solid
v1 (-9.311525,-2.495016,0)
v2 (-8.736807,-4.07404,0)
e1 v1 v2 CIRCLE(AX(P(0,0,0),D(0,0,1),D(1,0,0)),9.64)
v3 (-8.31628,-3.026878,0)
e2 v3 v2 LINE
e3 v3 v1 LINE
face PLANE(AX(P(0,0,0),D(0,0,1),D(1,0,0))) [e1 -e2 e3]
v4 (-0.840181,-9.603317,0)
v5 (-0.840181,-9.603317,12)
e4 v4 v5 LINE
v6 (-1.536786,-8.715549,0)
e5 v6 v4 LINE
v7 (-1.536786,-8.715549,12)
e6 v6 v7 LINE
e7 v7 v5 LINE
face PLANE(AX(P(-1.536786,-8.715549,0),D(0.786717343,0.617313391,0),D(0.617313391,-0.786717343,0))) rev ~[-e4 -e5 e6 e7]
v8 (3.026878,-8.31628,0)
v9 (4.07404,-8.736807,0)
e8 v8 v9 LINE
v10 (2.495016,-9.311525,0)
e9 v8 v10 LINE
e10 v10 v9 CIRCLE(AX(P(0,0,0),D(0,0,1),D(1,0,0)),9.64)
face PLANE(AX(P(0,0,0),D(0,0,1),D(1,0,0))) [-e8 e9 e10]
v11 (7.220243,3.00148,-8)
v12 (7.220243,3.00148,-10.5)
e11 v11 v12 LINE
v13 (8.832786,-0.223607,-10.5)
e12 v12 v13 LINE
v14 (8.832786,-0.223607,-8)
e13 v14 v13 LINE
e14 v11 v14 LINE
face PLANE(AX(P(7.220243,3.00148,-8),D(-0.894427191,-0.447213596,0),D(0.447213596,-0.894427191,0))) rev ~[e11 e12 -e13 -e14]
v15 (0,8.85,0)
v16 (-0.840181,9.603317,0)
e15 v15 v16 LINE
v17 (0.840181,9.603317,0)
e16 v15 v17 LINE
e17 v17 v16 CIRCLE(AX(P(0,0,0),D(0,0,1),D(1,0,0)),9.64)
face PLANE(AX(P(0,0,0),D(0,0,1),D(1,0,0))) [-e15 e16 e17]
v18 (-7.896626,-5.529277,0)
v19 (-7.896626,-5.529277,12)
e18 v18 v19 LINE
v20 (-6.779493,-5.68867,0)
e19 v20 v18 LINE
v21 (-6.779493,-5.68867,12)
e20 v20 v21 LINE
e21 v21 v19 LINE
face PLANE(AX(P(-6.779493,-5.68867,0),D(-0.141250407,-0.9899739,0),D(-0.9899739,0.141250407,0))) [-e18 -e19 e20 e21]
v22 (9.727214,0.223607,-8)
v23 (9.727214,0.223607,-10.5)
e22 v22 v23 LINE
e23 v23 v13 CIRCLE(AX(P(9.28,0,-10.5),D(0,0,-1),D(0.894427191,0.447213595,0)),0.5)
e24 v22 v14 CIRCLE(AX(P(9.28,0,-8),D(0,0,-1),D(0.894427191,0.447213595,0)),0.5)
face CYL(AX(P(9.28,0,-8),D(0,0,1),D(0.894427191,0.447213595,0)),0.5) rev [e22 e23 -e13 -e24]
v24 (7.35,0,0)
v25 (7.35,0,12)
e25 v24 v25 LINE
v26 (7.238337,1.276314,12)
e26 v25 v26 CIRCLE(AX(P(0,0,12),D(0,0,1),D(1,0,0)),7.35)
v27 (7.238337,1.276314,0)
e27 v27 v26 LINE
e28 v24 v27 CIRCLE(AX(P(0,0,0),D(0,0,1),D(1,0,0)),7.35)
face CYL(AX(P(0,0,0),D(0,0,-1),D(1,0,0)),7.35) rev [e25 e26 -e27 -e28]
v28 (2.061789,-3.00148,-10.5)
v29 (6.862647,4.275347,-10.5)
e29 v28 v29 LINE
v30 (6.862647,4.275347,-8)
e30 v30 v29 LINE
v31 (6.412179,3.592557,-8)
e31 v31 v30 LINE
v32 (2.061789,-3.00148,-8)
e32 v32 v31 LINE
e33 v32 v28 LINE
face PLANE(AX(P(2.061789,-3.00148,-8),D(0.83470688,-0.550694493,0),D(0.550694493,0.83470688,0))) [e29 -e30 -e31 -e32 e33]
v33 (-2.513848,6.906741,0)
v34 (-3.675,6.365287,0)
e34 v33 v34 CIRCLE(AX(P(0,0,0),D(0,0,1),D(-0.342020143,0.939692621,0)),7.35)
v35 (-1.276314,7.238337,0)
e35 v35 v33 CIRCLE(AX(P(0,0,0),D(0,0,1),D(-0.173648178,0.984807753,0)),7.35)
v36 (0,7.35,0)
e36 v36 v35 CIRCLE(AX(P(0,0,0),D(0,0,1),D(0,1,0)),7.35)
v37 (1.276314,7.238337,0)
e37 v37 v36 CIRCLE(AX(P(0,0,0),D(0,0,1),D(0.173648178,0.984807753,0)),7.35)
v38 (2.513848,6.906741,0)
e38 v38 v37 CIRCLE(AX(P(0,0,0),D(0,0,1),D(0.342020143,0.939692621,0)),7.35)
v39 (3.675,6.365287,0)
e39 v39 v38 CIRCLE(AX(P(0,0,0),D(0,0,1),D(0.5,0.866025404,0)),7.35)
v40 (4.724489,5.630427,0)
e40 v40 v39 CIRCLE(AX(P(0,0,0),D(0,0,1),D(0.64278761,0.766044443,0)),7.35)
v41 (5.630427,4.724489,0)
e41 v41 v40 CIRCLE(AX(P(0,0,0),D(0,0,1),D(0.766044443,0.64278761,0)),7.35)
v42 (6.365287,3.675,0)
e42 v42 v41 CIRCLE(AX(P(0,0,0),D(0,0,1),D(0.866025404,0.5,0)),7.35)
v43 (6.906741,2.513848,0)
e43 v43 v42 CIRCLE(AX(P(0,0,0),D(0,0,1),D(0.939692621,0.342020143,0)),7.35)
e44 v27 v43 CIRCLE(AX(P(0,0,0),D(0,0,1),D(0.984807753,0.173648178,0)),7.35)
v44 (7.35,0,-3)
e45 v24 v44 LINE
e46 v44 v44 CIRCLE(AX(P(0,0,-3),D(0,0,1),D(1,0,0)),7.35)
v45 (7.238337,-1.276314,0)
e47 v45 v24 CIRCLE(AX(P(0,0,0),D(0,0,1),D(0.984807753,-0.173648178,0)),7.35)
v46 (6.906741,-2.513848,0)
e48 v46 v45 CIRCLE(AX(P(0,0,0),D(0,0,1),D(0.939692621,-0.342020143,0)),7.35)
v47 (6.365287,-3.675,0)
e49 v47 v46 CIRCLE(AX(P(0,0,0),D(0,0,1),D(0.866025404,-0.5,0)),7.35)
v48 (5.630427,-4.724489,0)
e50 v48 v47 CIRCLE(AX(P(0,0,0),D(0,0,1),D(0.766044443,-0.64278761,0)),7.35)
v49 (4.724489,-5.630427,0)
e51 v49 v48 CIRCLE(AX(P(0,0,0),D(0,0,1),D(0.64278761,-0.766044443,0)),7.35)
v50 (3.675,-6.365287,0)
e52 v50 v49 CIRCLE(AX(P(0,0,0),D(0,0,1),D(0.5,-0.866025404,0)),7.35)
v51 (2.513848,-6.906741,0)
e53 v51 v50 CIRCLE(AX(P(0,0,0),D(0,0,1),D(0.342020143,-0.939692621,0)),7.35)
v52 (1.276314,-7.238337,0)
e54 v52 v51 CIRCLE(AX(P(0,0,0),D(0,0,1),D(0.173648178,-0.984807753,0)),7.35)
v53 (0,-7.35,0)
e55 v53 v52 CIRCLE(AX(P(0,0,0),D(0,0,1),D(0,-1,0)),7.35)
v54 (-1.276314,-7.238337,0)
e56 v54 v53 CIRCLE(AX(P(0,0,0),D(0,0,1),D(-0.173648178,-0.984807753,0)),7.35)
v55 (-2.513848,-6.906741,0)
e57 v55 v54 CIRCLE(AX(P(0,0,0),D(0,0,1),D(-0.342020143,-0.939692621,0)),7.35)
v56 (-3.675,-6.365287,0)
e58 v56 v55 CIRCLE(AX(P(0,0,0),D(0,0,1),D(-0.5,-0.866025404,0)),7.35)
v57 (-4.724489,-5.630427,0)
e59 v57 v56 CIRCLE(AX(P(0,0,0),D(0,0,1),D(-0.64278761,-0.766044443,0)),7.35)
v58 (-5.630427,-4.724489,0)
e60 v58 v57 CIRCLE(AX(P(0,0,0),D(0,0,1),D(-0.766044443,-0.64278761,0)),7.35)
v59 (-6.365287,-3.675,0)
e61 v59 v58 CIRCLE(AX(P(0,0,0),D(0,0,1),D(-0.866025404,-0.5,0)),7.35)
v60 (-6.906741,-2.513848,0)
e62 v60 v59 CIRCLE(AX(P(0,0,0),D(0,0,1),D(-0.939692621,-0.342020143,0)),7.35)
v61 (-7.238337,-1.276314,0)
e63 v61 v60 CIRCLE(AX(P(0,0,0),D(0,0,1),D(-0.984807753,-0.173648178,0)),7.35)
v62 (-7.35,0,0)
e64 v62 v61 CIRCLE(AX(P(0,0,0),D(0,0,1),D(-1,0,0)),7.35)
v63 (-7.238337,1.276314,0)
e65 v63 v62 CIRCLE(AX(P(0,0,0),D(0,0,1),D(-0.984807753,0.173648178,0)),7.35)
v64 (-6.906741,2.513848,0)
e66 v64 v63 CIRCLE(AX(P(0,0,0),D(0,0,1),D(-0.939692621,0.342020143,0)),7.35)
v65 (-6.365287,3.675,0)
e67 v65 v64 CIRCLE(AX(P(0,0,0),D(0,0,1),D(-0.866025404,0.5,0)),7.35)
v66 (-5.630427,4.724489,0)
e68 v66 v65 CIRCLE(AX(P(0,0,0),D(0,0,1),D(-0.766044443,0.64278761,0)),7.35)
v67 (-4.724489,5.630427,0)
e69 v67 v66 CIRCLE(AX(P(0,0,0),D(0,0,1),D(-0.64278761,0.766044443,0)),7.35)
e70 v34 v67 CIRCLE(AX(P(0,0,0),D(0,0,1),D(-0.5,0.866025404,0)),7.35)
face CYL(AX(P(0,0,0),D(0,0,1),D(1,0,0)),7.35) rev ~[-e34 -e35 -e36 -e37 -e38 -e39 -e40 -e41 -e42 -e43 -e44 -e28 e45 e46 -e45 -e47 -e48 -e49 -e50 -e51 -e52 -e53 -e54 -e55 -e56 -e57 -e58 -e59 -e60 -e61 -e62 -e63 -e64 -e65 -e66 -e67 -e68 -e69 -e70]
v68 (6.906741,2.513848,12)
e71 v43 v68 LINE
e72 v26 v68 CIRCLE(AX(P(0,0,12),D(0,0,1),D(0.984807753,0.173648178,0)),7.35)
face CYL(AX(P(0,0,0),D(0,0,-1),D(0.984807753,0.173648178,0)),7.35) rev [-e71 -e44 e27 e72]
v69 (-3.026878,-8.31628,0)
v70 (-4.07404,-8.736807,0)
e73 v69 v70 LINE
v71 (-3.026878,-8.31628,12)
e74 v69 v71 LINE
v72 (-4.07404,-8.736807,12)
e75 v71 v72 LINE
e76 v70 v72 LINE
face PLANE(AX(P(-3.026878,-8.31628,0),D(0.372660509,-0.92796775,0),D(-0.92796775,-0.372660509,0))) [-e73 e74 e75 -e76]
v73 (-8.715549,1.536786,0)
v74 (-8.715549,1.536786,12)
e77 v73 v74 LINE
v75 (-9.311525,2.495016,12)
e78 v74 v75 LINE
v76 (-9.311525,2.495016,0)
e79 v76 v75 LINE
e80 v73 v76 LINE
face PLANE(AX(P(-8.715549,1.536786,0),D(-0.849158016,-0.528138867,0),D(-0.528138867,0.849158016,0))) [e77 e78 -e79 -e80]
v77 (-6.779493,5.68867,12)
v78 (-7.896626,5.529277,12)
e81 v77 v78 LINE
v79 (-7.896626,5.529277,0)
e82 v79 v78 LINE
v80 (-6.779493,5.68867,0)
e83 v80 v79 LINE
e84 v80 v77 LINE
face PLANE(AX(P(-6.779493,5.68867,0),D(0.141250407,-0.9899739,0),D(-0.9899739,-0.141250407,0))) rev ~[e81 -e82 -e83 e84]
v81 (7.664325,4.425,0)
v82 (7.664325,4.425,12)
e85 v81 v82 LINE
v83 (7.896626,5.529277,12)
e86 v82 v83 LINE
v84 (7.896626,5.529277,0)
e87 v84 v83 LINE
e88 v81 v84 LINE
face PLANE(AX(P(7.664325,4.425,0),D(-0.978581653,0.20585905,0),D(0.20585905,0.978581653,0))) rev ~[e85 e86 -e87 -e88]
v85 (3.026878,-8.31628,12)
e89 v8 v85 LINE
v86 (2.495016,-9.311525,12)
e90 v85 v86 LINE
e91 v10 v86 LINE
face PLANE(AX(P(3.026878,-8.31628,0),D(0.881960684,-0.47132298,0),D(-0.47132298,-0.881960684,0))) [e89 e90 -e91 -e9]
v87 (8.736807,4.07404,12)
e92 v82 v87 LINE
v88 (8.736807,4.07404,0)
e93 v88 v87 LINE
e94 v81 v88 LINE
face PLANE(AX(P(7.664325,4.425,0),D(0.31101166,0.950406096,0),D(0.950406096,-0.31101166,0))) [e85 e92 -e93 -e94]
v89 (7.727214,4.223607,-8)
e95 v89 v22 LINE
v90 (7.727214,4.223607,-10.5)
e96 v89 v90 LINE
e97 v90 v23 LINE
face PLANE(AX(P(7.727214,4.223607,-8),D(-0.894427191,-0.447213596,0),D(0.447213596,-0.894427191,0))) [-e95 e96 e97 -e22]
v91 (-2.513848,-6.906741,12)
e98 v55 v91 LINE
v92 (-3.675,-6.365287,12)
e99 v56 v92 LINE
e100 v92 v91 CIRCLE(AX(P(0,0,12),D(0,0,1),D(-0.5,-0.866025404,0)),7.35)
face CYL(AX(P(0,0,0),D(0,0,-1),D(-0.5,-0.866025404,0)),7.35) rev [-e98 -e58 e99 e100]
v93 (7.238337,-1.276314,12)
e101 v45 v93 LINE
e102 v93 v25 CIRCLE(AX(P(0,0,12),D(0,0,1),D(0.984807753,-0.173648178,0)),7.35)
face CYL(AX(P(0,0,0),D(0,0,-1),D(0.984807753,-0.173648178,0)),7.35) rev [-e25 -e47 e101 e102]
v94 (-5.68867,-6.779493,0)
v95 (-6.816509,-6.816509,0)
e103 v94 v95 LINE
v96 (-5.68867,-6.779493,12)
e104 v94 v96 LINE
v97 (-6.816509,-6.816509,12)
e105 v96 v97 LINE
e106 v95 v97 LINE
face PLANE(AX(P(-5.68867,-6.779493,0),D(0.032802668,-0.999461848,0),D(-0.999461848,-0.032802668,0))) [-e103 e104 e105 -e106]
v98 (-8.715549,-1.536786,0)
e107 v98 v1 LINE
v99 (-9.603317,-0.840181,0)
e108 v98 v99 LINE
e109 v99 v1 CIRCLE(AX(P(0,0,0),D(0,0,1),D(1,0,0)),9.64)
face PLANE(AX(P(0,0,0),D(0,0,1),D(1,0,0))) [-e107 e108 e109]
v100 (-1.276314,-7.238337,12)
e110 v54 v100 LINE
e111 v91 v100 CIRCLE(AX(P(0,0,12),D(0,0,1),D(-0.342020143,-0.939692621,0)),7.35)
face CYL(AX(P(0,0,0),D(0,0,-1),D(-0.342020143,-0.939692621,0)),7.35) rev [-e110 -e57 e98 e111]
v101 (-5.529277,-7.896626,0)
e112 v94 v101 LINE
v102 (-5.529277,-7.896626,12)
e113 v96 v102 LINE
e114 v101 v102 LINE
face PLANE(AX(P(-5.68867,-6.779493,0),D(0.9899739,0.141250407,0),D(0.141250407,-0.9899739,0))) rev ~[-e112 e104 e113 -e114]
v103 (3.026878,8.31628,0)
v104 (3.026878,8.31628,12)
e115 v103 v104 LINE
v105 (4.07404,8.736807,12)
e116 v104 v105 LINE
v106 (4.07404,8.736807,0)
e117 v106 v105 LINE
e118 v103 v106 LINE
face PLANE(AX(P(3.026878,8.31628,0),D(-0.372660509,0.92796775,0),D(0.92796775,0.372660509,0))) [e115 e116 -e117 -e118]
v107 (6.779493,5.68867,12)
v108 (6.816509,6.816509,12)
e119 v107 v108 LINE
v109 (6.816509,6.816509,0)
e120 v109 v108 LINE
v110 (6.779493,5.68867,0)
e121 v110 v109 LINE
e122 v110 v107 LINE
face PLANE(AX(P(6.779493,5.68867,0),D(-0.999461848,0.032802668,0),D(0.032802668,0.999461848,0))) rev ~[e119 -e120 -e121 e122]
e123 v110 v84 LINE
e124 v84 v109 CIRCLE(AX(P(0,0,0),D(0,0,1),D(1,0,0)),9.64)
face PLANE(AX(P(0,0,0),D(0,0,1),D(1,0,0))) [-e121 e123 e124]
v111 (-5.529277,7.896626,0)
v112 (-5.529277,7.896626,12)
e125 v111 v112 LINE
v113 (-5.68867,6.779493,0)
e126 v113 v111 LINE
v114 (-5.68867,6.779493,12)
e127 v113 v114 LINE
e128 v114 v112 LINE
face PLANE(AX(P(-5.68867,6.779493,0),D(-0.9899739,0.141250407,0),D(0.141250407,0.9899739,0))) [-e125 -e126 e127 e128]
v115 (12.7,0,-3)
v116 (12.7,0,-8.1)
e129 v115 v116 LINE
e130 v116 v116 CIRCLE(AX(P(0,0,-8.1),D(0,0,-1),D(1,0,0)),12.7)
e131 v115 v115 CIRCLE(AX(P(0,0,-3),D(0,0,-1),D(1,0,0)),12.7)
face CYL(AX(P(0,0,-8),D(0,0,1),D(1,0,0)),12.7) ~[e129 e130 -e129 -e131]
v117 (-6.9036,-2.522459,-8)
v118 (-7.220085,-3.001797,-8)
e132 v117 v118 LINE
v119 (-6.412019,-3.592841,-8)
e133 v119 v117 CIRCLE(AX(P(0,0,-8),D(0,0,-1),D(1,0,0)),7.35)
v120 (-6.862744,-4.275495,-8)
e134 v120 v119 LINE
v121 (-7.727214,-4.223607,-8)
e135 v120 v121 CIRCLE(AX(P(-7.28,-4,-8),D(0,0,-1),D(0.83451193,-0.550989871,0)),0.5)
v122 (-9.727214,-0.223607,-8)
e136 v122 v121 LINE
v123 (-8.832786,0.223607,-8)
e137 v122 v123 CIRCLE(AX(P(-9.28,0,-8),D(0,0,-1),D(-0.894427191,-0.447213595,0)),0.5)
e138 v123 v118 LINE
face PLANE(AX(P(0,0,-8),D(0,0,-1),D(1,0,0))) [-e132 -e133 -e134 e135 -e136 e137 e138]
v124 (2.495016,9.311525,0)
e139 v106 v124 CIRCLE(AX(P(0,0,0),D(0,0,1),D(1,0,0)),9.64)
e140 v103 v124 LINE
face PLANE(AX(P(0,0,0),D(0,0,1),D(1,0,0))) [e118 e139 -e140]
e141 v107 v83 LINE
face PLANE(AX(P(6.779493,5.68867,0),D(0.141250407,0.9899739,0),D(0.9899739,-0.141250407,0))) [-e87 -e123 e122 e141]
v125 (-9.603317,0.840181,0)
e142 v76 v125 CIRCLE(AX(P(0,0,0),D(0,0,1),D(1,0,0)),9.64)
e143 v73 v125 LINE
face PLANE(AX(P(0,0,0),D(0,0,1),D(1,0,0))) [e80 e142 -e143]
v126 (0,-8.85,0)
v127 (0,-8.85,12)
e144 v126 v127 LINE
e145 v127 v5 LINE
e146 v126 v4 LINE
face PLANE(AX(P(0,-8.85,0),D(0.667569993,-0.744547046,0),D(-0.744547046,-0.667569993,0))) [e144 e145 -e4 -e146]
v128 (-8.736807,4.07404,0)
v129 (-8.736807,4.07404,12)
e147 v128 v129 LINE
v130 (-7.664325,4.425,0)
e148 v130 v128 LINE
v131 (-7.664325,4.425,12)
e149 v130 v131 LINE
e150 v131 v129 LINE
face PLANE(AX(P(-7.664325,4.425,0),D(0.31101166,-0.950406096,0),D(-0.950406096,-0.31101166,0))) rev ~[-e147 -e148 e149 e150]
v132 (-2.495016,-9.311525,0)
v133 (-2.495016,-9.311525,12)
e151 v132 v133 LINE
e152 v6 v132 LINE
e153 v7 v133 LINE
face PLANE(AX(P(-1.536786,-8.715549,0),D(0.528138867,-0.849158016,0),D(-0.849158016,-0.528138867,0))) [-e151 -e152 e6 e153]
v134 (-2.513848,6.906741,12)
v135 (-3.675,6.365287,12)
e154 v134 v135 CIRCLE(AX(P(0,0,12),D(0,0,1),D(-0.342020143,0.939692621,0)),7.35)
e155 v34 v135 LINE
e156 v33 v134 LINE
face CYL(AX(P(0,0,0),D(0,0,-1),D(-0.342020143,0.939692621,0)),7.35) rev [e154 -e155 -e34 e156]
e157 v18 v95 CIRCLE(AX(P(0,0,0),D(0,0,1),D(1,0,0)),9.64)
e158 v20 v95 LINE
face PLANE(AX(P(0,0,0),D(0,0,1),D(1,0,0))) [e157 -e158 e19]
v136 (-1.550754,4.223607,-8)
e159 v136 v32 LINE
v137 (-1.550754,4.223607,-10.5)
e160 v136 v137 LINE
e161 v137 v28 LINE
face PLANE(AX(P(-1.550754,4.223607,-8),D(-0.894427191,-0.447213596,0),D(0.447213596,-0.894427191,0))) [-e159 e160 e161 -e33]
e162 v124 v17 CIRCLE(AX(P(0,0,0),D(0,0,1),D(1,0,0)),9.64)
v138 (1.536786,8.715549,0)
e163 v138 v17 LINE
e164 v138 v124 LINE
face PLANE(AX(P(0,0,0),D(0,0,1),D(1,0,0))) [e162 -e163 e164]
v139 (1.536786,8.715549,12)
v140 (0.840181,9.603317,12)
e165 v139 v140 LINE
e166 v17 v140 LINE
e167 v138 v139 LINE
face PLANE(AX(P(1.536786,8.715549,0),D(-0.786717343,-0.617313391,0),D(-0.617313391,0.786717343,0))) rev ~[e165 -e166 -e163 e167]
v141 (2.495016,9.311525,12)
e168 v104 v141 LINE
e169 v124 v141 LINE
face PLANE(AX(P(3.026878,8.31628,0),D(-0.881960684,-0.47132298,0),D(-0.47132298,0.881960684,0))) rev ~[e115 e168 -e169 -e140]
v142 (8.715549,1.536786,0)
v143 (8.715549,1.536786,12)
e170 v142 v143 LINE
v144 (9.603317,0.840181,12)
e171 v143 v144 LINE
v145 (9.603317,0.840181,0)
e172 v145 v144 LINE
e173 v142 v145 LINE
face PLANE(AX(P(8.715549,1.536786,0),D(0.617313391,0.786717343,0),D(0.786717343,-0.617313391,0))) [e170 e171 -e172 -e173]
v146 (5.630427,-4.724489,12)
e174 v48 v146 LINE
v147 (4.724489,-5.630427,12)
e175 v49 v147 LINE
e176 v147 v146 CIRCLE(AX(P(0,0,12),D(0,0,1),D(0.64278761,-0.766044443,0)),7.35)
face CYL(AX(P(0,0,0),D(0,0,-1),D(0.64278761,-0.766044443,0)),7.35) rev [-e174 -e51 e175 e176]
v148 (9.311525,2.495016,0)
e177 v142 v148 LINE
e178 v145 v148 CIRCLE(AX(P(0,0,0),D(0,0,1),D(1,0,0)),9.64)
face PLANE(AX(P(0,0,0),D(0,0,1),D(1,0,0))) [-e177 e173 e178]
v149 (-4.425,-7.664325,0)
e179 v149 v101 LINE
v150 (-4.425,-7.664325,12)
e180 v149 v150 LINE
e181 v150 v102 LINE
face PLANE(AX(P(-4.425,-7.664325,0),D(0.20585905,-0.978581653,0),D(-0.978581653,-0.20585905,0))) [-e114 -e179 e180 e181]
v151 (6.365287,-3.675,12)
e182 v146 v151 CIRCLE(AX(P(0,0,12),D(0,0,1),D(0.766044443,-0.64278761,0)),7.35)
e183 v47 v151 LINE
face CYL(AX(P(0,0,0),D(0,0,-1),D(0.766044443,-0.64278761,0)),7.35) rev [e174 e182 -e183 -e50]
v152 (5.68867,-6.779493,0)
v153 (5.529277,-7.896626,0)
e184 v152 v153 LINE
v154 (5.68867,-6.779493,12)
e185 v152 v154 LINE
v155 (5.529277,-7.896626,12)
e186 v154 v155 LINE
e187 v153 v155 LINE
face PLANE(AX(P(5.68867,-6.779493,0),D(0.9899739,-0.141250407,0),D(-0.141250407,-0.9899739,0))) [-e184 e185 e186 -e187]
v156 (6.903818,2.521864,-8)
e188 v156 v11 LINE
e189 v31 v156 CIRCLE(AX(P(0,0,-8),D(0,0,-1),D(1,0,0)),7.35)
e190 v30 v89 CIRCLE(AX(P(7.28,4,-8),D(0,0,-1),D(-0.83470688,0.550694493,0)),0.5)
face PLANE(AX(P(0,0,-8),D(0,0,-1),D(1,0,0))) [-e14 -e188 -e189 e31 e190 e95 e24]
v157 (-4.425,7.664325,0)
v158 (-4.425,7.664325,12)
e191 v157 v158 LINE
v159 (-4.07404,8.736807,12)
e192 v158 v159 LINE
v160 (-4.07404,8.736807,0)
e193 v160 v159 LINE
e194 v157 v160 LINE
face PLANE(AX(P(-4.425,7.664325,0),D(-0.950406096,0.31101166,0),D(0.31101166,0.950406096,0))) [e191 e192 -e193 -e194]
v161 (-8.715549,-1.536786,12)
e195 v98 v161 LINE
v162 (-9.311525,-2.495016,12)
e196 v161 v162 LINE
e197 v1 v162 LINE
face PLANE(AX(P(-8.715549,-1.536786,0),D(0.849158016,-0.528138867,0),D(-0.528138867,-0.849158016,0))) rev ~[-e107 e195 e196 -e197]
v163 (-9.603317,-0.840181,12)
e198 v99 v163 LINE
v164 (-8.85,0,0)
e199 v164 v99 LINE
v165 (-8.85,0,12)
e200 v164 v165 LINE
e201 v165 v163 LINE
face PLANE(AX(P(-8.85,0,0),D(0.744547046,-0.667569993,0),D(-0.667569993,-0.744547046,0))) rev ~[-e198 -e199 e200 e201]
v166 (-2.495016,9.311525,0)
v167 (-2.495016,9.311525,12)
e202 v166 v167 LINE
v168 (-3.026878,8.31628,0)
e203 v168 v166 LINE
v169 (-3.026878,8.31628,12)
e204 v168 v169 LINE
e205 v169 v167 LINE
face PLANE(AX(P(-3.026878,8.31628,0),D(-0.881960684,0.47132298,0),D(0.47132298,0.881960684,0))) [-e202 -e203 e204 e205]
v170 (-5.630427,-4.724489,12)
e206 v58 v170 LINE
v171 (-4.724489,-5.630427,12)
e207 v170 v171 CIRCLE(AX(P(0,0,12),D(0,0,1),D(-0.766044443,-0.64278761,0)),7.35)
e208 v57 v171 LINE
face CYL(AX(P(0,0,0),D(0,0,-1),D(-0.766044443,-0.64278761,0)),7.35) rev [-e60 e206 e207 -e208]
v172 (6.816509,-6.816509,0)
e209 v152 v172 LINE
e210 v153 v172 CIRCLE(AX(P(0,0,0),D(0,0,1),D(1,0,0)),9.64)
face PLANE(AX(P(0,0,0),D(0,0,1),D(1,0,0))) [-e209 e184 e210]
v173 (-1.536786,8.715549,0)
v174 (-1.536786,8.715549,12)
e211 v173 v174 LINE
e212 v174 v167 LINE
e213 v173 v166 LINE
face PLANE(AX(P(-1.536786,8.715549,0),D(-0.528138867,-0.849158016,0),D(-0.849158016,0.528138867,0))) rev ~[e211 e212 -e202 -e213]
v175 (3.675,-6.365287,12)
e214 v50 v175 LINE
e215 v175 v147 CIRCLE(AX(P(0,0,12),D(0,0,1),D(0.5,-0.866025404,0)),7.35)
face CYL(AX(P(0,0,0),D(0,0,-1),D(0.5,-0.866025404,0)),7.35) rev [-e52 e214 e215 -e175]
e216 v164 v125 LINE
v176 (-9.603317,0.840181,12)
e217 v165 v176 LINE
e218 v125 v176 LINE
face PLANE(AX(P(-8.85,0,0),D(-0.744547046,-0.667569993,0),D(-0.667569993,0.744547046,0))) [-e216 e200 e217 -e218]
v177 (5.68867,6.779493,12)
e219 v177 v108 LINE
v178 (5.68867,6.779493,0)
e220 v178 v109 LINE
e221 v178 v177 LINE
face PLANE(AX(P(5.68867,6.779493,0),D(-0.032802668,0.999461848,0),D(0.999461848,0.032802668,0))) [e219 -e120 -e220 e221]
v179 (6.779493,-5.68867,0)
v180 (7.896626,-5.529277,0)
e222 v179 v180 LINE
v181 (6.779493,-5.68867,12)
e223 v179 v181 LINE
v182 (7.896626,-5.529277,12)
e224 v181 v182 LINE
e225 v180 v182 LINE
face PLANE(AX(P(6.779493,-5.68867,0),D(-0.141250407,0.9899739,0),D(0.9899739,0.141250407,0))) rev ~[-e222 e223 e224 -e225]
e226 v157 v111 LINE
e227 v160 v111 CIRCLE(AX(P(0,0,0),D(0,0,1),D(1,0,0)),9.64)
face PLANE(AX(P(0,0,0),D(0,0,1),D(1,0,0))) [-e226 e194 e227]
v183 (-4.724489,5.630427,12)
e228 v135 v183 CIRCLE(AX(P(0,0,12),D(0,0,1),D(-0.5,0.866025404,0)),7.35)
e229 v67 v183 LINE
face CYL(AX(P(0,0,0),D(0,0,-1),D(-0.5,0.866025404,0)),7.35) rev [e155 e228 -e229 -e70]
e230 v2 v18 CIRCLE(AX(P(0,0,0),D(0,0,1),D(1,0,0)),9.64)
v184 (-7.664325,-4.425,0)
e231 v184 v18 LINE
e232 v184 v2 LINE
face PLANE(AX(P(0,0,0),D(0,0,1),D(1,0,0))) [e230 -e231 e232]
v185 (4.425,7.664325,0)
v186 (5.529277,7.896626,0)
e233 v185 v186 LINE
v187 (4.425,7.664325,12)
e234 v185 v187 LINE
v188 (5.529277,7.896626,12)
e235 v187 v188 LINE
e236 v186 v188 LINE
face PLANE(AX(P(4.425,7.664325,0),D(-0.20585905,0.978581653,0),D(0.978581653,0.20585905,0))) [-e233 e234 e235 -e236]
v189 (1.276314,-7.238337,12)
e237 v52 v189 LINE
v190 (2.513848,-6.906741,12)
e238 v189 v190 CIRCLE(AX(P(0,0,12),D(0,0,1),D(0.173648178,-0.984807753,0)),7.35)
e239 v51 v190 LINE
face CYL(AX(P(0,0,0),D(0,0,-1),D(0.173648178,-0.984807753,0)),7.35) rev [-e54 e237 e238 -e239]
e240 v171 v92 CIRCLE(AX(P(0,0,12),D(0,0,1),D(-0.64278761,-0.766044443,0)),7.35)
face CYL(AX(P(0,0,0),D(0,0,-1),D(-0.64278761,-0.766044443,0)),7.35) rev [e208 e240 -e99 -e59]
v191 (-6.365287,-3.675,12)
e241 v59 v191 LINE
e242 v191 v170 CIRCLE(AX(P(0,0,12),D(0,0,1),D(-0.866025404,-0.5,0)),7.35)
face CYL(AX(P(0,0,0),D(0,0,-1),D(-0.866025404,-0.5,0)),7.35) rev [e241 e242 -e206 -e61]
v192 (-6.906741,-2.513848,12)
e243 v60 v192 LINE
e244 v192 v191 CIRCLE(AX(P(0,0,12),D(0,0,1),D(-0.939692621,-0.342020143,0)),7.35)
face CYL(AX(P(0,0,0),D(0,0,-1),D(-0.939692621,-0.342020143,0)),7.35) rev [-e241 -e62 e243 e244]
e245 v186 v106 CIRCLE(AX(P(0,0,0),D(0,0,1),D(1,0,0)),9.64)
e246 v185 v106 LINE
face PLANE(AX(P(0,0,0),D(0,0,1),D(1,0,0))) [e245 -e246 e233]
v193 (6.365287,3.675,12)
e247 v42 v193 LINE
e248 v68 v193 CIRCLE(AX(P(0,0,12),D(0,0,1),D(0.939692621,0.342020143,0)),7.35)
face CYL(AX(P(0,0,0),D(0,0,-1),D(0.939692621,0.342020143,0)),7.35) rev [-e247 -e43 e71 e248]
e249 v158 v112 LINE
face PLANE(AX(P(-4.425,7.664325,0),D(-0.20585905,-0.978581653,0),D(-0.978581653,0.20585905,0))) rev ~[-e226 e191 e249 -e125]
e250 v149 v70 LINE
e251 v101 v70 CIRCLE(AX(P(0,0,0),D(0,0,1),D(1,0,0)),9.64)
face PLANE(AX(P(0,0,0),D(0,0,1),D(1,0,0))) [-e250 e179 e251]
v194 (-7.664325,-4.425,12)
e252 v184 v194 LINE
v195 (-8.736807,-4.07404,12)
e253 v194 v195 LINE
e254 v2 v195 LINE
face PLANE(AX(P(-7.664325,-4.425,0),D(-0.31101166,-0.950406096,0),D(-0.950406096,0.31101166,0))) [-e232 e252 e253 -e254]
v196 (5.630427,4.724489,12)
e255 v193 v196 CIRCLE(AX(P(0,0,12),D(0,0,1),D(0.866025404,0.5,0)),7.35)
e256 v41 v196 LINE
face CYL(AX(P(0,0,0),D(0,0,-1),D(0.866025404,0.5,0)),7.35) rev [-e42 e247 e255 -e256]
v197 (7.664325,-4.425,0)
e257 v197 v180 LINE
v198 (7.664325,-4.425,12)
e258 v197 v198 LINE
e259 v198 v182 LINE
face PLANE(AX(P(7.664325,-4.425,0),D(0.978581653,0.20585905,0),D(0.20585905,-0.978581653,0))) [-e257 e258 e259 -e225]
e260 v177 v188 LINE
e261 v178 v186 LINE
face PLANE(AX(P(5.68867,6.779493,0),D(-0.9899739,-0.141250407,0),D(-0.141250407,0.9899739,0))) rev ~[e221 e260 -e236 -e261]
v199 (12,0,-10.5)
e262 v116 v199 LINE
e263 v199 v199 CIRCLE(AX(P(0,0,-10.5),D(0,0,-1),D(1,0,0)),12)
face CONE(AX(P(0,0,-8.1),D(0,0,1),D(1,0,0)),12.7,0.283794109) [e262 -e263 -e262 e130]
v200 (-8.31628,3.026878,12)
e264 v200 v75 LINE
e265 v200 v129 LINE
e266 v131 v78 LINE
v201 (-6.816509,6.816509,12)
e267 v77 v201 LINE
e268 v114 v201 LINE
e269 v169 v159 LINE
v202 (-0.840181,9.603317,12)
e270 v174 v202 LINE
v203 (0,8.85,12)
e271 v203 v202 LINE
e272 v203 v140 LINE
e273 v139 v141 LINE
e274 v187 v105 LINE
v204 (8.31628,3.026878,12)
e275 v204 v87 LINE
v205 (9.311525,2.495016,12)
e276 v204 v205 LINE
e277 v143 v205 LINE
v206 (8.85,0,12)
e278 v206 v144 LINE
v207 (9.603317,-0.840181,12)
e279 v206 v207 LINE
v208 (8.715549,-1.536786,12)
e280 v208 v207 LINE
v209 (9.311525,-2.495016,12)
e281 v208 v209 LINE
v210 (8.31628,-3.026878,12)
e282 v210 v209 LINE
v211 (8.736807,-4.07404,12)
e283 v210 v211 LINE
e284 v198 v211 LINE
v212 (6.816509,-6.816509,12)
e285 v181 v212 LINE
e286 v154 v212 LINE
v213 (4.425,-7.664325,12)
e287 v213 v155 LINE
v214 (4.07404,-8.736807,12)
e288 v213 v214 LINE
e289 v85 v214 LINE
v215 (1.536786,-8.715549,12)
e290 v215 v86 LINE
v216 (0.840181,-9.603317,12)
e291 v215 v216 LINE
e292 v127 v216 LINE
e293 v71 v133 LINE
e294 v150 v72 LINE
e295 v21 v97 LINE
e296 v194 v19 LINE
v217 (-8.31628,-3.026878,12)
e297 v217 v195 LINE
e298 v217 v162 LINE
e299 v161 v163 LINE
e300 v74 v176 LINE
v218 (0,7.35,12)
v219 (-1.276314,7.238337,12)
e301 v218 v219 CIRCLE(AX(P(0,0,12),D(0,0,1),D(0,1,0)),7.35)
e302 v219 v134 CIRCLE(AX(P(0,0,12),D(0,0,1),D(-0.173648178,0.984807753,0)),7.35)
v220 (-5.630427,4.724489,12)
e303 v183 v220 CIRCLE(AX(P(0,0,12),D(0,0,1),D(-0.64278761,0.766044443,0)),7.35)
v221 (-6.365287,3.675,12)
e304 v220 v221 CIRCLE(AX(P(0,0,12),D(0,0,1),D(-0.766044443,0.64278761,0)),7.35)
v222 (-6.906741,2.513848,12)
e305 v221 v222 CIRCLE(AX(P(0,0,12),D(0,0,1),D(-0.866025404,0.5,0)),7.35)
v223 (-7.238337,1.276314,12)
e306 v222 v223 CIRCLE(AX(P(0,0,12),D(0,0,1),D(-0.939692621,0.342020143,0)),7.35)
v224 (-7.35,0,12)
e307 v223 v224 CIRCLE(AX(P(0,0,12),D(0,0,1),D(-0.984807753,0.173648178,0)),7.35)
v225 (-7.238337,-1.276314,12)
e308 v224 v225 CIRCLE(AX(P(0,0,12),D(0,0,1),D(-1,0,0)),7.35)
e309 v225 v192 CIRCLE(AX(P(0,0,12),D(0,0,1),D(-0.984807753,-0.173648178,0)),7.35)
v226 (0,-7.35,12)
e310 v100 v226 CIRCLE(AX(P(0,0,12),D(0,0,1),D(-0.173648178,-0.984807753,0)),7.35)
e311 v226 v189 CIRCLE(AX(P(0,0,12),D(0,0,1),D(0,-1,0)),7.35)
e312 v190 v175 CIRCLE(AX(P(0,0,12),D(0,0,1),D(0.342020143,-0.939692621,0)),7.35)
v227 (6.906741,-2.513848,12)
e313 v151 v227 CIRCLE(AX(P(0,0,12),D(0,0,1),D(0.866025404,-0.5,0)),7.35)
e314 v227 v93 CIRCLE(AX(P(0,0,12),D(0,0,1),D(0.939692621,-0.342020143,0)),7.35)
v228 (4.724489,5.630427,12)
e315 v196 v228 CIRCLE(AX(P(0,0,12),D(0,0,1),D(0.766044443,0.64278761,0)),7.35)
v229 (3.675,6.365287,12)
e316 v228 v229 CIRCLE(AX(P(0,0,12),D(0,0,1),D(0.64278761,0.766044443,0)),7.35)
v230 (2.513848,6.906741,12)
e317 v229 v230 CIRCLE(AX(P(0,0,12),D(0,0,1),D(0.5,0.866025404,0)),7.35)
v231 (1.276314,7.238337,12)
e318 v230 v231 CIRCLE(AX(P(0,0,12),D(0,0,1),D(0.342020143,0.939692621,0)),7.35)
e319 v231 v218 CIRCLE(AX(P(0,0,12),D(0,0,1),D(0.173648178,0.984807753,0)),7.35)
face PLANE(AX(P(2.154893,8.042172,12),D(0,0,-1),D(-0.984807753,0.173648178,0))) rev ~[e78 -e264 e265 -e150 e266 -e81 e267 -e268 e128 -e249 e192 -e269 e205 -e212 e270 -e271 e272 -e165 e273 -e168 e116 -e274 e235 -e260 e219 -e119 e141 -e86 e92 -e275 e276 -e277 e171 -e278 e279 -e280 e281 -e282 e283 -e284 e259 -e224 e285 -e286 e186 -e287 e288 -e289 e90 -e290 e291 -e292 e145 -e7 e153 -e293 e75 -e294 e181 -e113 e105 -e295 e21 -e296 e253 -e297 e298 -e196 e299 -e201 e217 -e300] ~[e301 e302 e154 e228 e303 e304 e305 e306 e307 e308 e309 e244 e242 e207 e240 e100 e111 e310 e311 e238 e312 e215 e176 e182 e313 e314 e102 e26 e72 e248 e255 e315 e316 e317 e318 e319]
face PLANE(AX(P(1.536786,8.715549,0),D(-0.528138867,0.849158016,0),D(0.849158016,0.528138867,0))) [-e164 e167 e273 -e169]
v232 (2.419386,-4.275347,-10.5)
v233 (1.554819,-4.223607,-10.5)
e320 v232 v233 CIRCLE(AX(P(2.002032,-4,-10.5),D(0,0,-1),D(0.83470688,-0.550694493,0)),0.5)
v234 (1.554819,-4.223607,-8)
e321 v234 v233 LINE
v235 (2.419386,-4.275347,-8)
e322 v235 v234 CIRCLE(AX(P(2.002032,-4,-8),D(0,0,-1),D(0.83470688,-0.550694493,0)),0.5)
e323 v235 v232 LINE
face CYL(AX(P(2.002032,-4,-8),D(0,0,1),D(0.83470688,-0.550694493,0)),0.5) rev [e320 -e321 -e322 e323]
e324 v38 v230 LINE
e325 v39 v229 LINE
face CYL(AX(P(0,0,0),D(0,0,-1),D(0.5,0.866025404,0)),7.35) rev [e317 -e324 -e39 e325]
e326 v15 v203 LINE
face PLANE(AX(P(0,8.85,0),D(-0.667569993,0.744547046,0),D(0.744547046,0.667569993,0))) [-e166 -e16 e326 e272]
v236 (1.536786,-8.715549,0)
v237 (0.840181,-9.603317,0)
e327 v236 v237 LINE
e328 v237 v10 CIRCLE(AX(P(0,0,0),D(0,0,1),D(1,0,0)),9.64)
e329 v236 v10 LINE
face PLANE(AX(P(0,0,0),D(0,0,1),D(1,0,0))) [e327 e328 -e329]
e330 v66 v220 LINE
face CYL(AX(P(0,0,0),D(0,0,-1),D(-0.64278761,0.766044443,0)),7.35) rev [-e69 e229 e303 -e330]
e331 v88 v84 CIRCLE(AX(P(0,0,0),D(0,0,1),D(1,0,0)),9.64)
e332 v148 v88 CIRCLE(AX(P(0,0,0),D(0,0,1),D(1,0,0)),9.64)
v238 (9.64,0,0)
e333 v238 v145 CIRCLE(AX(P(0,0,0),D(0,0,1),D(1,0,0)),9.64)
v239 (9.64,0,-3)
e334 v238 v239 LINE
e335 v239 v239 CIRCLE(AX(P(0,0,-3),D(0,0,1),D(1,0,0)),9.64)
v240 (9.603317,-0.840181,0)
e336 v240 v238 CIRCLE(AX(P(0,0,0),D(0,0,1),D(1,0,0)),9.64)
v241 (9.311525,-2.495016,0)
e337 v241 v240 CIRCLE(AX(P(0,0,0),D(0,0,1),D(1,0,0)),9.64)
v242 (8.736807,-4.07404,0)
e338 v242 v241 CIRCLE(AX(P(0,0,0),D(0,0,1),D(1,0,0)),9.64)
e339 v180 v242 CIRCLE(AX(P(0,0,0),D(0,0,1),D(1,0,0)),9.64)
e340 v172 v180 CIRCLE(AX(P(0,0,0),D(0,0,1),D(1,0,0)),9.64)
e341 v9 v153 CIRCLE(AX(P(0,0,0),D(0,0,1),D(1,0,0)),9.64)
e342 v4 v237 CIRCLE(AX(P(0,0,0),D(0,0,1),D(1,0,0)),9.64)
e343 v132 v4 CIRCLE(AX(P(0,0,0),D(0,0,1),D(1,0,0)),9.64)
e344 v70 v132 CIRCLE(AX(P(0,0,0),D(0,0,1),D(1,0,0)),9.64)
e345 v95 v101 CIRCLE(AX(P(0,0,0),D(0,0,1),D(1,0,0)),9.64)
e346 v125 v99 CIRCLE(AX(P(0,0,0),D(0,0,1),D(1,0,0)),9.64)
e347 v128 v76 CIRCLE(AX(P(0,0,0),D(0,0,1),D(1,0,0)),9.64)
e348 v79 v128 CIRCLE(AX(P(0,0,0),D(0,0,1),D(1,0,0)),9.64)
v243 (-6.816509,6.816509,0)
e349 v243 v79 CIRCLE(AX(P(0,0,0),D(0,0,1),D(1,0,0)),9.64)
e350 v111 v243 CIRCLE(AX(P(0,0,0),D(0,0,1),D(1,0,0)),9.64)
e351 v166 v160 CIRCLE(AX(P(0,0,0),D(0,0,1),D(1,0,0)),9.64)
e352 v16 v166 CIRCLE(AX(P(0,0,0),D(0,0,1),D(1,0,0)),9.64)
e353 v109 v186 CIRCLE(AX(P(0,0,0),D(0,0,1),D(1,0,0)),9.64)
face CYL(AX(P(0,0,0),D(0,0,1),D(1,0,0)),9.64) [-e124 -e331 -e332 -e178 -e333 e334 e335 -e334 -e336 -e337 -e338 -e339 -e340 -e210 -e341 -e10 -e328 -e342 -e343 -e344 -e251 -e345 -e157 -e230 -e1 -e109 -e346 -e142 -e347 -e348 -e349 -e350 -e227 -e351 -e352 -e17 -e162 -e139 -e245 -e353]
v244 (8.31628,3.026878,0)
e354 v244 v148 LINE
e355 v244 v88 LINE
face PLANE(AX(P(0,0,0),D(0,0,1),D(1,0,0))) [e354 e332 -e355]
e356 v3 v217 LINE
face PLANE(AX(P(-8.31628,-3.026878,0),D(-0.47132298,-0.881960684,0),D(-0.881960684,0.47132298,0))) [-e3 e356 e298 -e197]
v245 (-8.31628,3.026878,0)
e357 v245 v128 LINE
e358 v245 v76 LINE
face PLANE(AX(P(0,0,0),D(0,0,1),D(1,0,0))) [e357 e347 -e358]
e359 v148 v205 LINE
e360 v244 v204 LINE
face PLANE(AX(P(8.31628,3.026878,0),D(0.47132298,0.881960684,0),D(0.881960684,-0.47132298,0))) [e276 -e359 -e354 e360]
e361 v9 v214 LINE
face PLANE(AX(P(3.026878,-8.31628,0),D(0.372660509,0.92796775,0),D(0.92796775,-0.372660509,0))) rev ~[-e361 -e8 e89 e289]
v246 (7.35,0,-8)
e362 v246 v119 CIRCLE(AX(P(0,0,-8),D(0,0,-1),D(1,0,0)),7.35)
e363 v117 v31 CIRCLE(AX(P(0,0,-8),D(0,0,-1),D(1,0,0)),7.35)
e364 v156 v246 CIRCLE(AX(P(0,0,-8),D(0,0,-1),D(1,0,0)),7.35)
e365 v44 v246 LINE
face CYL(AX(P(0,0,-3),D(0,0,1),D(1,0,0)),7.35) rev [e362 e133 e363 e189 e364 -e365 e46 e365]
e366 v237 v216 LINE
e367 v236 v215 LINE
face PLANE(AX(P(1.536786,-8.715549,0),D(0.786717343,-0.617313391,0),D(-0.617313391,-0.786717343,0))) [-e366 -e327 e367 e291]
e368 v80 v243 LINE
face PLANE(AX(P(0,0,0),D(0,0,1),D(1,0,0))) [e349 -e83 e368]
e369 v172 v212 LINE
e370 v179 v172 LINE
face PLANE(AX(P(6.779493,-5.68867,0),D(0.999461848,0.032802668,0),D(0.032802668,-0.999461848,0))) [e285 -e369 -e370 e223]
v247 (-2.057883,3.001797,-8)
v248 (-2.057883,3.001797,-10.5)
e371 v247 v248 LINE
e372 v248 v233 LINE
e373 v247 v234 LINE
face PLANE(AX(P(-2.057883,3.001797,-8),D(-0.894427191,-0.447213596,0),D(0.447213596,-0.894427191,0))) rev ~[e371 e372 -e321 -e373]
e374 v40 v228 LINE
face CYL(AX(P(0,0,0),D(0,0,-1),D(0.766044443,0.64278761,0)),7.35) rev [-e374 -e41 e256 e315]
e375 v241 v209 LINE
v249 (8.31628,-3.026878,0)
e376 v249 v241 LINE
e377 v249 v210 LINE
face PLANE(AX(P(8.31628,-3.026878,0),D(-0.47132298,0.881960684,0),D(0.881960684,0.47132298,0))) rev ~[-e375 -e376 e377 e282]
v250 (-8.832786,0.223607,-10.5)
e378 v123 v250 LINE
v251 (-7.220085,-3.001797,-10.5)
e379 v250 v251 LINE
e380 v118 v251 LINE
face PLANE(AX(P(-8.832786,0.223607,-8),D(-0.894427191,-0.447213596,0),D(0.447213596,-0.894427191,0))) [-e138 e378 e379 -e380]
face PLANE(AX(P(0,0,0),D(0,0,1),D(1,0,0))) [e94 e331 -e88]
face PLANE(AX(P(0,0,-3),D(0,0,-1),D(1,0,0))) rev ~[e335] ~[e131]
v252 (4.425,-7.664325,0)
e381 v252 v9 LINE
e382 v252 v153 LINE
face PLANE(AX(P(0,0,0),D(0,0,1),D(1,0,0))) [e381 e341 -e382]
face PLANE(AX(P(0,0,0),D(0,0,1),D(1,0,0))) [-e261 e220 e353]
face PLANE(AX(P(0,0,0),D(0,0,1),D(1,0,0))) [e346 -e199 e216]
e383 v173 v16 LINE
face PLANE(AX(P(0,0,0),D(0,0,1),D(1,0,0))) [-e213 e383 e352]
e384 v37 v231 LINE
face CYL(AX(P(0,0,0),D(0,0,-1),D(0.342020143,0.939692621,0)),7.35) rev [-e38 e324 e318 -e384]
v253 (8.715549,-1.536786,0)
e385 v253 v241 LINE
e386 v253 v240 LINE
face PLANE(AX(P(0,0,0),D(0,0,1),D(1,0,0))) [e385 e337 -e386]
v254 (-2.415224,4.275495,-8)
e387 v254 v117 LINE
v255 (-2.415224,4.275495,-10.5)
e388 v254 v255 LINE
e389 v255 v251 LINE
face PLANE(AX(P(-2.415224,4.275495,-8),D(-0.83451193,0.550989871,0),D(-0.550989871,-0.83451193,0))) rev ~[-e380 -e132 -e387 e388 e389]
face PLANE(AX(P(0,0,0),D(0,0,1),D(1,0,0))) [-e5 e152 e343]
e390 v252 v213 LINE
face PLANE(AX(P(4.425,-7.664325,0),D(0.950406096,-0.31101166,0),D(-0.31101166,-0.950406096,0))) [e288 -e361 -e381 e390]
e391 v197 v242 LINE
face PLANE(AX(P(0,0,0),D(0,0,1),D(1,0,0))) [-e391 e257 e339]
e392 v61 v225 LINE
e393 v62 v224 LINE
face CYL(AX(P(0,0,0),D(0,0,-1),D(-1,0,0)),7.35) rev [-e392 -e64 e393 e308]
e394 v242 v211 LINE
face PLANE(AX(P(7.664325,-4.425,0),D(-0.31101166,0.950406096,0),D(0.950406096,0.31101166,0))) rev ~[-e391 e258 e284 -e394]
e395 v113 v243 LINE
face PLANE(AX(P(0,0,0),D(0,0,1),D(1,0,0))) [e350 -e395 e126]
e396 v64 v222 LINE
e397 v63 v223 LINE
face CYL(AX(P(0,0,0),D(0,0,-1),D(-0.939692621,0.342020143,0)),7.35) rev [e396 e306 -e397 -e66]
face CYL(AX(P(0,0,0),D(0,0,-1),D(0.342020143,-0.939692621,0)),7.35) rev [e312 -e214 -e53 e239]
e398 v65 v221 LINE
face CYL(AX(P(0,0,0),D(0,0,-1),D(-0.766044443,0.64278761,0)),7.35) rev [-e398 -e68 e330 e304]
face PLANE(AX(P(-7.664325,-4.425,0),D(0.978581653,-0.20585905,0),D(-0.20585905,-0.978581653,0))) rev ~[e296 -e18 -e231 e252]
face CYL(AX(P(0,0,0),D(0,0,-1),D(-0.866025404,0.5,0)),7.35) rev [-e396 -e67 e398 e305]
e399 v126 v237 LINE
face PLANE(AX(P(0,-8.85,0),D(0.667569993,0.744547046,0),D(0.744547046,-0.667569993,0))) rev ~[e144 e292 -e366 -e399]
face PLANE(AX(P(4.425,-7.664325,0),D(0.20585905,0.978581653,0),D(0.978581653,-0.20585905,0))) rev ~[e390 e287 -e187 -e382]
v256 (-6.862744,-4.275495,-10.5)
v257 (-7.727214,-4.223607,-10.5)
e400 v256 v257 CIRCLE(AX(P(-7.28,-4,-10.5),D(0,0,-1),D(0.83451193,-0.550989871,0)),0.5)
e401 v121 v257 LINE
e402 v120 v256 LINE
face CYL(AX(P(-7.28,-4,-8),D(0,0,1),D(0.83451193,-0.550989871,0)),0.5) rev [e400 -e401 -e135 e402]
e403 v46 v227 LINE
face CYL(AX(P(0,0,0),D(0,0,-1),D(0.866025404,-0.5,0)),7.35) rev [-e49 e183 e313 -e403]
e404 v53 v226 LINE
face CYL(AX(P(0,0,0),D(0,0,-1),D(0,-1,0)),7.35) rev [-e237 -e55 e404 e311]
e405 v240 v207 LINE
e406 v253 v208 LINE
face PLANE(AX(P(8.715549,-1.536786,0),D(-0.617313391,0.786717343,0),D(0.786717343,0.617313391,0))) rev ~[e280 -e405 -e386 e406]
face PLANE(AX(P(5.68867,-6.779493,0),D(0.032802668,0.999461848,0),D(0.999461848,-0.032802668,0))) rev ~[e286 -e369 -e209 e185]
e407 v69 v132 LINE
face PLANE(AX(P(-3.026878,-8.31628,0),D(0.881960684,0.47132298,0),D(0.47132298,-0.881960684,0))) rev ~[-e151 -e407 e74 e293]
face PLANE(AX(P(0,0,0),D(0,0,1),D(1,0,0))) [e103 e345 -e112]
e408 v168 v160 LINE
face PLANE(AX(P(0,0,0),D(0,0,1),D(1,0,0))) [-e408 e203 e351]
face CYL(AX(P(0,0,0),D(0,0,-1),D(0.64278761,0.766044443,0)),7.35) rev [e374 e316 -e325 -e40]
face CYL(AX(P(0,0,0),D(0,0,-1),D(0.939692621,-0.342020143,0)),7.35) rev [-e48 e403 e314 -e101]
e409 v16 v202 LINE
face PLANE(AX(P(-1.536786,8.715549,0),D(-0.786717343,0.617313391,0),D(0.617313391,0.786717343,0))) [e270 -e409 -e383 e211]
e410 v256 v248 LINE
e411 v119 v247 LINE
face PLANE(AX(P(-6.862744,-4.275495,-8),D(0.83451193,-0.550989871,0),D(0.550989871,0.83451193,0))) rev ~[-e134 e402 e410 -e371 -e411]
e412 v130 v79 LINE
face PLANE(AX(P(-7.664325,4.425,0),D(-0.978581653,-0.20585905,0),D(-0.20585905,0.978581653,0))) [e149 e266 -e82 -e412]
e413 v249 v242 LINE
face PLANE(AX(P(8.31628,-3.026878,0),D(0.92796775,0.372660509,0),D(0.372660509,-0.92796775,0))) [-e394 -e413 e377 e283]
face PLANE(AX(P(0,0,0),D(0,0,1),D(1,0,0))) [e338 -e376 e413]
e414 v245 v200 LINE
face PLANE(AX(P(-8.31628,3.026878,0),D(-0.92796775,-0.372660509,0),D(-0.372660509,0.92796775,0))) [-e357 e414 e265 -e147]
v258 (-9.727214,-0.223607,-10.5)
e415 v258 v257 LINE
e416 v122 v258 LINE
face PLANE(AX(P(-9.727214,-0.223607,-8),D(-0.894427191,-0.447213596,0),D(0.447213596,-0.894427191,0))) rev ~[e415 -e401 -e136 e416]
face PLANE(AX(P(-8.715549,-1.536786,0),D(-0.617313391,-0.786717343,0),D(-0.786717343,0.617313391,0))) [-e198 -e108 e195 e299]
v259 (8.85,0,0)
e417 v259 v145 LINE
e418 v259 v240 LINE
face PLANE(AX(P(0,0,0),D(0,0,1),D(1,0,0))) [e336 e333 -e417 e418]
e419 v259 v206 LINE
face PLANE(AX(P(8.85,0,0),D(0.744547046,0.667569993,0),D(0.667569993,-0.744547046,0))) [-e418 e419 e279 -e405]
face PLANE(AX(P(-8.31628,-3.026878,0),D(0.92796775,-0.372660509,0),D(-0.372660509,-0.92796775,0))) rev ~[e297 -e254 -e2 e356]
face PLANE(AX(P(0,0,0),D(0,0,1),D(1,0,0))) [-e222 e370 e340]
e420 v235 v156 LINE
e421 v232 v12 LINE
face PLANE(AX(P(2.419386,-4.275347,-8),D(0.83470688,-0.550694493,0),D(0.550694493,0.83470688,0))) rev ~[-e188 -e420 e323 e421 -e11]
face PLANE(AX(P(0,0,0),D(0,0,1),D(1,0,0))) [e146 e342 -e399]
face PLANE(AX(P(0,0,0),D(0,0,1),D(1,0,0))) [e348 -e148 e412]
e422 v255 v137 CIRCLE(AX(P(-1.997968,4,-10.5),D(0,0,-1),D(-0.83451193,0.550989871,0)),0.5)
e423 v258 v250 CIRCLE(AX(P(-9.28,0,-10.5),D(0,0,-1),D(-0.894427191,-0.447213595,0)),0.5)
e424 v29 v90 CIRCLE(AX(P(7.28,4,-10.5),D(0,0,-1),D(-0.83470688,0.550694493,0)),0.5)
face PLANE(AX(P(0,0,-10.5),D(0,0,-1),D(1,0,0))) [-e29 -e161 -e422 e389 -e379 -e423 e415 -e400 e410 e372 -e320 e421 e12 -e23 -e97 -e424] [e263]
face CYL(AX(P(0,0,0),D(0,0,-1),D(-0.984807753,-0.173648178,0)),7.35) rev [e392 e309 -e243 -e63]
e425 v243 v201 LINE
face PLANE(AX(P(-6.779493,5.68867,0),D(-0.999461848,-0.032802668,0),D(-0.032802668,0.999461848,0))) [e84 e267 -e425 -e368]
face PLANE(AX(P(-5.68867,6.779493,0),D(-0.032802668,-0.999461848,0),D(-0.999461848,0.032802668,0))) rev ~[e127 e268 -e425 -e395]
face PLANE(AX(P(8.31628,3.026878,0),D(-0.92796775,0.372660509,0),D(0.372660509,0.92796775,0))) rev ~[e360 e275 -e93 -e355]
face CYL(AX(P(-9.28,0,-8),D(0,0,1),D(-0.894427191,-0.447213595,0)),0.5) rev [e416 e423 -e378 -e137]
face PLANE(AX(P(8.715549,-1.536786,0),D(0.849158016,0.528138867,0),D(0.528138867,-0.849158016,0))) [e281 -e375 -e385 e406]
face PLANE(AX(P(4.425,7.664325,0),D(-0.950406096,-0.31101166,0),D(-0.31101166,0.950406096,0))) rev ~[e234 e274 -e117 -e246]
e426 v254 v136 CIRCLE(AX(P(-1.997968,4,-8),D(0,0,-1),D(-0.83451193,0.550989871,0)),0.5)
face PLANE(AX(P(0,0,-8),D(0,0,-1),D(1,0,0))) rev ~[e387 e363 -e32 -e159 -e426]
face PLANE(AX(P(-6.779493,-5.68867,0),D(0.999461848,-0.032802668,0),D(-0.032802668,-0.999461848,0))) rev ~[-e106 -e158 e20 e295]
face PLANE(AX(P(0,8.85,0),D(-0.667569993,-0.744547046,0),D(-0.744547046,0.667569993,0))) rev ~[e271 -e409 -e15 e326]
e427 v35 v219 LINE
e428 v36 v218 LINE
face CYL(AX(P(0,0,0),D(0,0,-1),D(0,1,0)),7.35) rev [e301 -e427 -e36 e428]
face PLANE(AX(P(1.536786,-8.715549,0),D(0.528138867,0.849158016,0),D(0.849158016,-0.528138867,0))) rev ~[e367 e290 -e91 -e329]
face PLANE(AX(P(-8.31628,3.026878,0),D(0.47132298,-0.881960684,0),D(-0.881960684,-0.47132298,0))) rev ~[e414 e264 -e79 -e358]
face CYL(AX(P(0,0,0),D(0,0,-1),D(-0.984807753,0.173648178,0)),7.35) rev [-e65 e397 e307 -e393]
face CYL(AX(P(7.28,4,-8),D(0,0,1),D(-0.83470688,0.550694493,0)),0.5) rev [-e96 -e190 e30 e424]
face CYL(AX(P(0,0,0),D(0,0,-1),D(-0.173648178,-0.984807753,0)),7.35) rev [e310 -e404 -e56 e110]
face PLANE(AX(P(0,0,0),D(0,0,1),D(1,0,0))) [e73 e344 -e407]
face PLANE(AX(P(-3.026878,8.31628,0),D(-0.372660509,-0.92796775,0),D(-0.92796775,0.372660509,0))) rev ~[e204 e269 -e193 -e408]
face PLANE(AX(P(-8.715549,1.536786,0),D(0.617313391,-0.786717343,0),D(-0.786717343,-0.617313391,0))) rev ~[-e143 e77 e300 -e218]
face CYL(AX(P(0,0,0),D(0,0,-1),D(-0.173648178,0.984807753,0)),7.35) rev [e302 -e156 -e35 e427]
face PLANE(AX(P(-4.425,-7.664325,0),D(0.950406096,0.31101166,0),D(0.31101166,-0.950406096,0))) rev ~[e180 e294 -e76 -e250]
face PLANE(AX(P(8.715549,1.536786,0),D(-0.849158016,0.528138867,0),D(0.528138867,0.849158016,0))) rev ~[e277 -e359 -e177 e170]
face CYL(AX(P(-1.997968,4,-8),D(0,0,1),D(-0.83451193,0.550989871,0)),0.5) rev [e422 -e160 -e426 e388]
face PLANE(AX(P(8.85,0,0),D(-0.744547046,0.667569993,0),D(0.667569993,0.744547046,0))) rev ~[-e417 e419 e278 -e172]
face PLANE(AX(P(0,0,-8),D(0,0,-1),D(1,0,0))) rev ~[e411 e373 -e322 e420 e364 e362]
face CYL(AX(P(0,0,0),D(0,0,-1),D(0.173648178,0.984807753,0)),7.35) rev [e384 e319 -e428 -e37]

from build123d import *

# Parameters (mm, degrees)
PAD_DEPTH          = 12
POLARPATTERN_COUNT = 36
SKETCH001_R        = 9.64
SKETCH001_R_2      = 7.35
PAD001_DEPTH       = 3
SKETCH002_R        = 12.7
SKETCH002_R_2      = 7.35
PAD002_DEPTH       = 5
SKETCH003_R        = 12.7
PAD003_DEPTH       = 2.5
CHAMFER_SIZE2      = 0.7
CHAMFER_SIZE       = 2.4


with BuildPart() as part:
    # Sketch → Pad (new body)
    with BuildSketch(Plane.XY):
        with BuildLine():
            Line((0, 8.85), (0.8401813601, 9.6033168896))
            Line((1.5367863724, 8.7155486142), (0.8401813601, 9.6033168896))
            Line((1.2763141059, 7.2383369846), (1.5367863724, 8.7155486142))
            ThreePointArc((1.2763141059, 7.2383369846), (0.6405947092, 7.322031031), (0, 7.35))
            Line((0, 7.35), (0, 8.85))
        make_face()
    pad = extrude(amount=PAD_DEPTH)

    # PolarPattern: Pad ×36 about axis
    polarpattern_axis = Axis((0, 0, 0), (0, 0, 1))
    for i in range(1, POLARPATTERN_COUNT):
        add(pad.rotate(polarpattern_axis, i * 360 / POLARPATTERN_COUNT))

    # Sketch001 (on DatumPlane) → Pad001 (join)
    with BuildSketch(Plane.XY):
        Circle(SKETCH001_R)
        Circle(SKETCH001_R_2, mode=Mode.SUBTRACT)
    extrude(amount=-PAD001_DEPTH)

    # Sketch002 (on Face51 of Pad001) → Pad002 (join)
    with BuildSketch(Plane(origin=(0, 0, -3), x_dir=(1, 0, 0), z_dir=(0, 0, -1))):
        Circle(SKETCH002_R)
        Circle(SKETCH002_R_2, mode=Mode.SUBTRACT)
    extrude(amount=PAD002_DEPTH)

    # Sketch003 (on DatumPlane) → Pad003 (join)
    with BuildSketch(Plane(origin=(0, 0, -8), x_dir=(1, 0, 0), z_dir=(0, 0, -1))):
        Circle(SKETCH003_R)
        with BuildLine():
            ThreePointArc((-9.7272135955, 0.2236067977), (-9.5036067977, -0.4472135955), (-8.8327864045, -0.2236067977))
            Line((-8.8327864045, -0.2236067977), (-7.2200847391, 3.001796533))
            Line((-2.4152236623, -4.2754949357), (-7.2200847391, 3.001796533))
            ThreePointArc((-2.4152236623, -4.2754949357), (-1.9680100668, -4.4991017335), (-1.5507541017, -4.2236067977))
            Line((-1.5507541017, -4.2236067977), (2.061789241, 3.0014798877))
            Line((2.061789241, 3.0014798877), (6.8626465602, -4.2753472467))
            ThreePointArc((6.8626465602, -4.2753472467), (7.309869311, -4.4991070269), (7.7272135955, -4.2236067977))
            Line((7.7272135955, -4.2236067977), (9.7272135955, -0.2236067977))
            ThreePointArc((9.7272135955, -0.2236067977), (9.5036067977, 0.4472135955), (8.8327864045, 0.2236067977))
            Line((7.2202430618, -3.0014798877), (8.8327864045, 0.2236067977))
            Line((2.4193857426, 4.2753472467), (7.2202430618, -3.0014798877))
            ThreePointArc((2.4193857426, 4.2753472467), (1.9721629918, 4.4991070269), (1.5548187073, 4.2236067977))
            Line((-2.0578829581, -3.001796533), (1.5548187073, 4.2236067977))
            Line((-6.8627440349, 4.2754949357), (-2.0578829581, -3.001796533))
            ThreePointArc((-6.8627440349, 4.2754949357), (-7.3099576304, 4.4991017335), (-7.7272135955, 4.2236067977))
            Line((-9.7272135955, 0.2236067977), (-7.7272135955, 4.2236067977))
        make_face(mode=Mode.SUBTRACT)
    extrude(amount=PAD003_DEPTH)

    # Chamfer
    chamfer_edges = [part.edges().sort_by_distance(p)[0] for p in [
        (-12.7, 0, -10.5),
    ]]
    chamfer_side = part.faces().sort_by_distance((-12.7, 0, -9.25))[0]
    chamfer(chamfer_edges, length=CHAMFER_SIZE, length2=CHAMFER_SIZE2, reference=chamfer_side)


solid = part.part
